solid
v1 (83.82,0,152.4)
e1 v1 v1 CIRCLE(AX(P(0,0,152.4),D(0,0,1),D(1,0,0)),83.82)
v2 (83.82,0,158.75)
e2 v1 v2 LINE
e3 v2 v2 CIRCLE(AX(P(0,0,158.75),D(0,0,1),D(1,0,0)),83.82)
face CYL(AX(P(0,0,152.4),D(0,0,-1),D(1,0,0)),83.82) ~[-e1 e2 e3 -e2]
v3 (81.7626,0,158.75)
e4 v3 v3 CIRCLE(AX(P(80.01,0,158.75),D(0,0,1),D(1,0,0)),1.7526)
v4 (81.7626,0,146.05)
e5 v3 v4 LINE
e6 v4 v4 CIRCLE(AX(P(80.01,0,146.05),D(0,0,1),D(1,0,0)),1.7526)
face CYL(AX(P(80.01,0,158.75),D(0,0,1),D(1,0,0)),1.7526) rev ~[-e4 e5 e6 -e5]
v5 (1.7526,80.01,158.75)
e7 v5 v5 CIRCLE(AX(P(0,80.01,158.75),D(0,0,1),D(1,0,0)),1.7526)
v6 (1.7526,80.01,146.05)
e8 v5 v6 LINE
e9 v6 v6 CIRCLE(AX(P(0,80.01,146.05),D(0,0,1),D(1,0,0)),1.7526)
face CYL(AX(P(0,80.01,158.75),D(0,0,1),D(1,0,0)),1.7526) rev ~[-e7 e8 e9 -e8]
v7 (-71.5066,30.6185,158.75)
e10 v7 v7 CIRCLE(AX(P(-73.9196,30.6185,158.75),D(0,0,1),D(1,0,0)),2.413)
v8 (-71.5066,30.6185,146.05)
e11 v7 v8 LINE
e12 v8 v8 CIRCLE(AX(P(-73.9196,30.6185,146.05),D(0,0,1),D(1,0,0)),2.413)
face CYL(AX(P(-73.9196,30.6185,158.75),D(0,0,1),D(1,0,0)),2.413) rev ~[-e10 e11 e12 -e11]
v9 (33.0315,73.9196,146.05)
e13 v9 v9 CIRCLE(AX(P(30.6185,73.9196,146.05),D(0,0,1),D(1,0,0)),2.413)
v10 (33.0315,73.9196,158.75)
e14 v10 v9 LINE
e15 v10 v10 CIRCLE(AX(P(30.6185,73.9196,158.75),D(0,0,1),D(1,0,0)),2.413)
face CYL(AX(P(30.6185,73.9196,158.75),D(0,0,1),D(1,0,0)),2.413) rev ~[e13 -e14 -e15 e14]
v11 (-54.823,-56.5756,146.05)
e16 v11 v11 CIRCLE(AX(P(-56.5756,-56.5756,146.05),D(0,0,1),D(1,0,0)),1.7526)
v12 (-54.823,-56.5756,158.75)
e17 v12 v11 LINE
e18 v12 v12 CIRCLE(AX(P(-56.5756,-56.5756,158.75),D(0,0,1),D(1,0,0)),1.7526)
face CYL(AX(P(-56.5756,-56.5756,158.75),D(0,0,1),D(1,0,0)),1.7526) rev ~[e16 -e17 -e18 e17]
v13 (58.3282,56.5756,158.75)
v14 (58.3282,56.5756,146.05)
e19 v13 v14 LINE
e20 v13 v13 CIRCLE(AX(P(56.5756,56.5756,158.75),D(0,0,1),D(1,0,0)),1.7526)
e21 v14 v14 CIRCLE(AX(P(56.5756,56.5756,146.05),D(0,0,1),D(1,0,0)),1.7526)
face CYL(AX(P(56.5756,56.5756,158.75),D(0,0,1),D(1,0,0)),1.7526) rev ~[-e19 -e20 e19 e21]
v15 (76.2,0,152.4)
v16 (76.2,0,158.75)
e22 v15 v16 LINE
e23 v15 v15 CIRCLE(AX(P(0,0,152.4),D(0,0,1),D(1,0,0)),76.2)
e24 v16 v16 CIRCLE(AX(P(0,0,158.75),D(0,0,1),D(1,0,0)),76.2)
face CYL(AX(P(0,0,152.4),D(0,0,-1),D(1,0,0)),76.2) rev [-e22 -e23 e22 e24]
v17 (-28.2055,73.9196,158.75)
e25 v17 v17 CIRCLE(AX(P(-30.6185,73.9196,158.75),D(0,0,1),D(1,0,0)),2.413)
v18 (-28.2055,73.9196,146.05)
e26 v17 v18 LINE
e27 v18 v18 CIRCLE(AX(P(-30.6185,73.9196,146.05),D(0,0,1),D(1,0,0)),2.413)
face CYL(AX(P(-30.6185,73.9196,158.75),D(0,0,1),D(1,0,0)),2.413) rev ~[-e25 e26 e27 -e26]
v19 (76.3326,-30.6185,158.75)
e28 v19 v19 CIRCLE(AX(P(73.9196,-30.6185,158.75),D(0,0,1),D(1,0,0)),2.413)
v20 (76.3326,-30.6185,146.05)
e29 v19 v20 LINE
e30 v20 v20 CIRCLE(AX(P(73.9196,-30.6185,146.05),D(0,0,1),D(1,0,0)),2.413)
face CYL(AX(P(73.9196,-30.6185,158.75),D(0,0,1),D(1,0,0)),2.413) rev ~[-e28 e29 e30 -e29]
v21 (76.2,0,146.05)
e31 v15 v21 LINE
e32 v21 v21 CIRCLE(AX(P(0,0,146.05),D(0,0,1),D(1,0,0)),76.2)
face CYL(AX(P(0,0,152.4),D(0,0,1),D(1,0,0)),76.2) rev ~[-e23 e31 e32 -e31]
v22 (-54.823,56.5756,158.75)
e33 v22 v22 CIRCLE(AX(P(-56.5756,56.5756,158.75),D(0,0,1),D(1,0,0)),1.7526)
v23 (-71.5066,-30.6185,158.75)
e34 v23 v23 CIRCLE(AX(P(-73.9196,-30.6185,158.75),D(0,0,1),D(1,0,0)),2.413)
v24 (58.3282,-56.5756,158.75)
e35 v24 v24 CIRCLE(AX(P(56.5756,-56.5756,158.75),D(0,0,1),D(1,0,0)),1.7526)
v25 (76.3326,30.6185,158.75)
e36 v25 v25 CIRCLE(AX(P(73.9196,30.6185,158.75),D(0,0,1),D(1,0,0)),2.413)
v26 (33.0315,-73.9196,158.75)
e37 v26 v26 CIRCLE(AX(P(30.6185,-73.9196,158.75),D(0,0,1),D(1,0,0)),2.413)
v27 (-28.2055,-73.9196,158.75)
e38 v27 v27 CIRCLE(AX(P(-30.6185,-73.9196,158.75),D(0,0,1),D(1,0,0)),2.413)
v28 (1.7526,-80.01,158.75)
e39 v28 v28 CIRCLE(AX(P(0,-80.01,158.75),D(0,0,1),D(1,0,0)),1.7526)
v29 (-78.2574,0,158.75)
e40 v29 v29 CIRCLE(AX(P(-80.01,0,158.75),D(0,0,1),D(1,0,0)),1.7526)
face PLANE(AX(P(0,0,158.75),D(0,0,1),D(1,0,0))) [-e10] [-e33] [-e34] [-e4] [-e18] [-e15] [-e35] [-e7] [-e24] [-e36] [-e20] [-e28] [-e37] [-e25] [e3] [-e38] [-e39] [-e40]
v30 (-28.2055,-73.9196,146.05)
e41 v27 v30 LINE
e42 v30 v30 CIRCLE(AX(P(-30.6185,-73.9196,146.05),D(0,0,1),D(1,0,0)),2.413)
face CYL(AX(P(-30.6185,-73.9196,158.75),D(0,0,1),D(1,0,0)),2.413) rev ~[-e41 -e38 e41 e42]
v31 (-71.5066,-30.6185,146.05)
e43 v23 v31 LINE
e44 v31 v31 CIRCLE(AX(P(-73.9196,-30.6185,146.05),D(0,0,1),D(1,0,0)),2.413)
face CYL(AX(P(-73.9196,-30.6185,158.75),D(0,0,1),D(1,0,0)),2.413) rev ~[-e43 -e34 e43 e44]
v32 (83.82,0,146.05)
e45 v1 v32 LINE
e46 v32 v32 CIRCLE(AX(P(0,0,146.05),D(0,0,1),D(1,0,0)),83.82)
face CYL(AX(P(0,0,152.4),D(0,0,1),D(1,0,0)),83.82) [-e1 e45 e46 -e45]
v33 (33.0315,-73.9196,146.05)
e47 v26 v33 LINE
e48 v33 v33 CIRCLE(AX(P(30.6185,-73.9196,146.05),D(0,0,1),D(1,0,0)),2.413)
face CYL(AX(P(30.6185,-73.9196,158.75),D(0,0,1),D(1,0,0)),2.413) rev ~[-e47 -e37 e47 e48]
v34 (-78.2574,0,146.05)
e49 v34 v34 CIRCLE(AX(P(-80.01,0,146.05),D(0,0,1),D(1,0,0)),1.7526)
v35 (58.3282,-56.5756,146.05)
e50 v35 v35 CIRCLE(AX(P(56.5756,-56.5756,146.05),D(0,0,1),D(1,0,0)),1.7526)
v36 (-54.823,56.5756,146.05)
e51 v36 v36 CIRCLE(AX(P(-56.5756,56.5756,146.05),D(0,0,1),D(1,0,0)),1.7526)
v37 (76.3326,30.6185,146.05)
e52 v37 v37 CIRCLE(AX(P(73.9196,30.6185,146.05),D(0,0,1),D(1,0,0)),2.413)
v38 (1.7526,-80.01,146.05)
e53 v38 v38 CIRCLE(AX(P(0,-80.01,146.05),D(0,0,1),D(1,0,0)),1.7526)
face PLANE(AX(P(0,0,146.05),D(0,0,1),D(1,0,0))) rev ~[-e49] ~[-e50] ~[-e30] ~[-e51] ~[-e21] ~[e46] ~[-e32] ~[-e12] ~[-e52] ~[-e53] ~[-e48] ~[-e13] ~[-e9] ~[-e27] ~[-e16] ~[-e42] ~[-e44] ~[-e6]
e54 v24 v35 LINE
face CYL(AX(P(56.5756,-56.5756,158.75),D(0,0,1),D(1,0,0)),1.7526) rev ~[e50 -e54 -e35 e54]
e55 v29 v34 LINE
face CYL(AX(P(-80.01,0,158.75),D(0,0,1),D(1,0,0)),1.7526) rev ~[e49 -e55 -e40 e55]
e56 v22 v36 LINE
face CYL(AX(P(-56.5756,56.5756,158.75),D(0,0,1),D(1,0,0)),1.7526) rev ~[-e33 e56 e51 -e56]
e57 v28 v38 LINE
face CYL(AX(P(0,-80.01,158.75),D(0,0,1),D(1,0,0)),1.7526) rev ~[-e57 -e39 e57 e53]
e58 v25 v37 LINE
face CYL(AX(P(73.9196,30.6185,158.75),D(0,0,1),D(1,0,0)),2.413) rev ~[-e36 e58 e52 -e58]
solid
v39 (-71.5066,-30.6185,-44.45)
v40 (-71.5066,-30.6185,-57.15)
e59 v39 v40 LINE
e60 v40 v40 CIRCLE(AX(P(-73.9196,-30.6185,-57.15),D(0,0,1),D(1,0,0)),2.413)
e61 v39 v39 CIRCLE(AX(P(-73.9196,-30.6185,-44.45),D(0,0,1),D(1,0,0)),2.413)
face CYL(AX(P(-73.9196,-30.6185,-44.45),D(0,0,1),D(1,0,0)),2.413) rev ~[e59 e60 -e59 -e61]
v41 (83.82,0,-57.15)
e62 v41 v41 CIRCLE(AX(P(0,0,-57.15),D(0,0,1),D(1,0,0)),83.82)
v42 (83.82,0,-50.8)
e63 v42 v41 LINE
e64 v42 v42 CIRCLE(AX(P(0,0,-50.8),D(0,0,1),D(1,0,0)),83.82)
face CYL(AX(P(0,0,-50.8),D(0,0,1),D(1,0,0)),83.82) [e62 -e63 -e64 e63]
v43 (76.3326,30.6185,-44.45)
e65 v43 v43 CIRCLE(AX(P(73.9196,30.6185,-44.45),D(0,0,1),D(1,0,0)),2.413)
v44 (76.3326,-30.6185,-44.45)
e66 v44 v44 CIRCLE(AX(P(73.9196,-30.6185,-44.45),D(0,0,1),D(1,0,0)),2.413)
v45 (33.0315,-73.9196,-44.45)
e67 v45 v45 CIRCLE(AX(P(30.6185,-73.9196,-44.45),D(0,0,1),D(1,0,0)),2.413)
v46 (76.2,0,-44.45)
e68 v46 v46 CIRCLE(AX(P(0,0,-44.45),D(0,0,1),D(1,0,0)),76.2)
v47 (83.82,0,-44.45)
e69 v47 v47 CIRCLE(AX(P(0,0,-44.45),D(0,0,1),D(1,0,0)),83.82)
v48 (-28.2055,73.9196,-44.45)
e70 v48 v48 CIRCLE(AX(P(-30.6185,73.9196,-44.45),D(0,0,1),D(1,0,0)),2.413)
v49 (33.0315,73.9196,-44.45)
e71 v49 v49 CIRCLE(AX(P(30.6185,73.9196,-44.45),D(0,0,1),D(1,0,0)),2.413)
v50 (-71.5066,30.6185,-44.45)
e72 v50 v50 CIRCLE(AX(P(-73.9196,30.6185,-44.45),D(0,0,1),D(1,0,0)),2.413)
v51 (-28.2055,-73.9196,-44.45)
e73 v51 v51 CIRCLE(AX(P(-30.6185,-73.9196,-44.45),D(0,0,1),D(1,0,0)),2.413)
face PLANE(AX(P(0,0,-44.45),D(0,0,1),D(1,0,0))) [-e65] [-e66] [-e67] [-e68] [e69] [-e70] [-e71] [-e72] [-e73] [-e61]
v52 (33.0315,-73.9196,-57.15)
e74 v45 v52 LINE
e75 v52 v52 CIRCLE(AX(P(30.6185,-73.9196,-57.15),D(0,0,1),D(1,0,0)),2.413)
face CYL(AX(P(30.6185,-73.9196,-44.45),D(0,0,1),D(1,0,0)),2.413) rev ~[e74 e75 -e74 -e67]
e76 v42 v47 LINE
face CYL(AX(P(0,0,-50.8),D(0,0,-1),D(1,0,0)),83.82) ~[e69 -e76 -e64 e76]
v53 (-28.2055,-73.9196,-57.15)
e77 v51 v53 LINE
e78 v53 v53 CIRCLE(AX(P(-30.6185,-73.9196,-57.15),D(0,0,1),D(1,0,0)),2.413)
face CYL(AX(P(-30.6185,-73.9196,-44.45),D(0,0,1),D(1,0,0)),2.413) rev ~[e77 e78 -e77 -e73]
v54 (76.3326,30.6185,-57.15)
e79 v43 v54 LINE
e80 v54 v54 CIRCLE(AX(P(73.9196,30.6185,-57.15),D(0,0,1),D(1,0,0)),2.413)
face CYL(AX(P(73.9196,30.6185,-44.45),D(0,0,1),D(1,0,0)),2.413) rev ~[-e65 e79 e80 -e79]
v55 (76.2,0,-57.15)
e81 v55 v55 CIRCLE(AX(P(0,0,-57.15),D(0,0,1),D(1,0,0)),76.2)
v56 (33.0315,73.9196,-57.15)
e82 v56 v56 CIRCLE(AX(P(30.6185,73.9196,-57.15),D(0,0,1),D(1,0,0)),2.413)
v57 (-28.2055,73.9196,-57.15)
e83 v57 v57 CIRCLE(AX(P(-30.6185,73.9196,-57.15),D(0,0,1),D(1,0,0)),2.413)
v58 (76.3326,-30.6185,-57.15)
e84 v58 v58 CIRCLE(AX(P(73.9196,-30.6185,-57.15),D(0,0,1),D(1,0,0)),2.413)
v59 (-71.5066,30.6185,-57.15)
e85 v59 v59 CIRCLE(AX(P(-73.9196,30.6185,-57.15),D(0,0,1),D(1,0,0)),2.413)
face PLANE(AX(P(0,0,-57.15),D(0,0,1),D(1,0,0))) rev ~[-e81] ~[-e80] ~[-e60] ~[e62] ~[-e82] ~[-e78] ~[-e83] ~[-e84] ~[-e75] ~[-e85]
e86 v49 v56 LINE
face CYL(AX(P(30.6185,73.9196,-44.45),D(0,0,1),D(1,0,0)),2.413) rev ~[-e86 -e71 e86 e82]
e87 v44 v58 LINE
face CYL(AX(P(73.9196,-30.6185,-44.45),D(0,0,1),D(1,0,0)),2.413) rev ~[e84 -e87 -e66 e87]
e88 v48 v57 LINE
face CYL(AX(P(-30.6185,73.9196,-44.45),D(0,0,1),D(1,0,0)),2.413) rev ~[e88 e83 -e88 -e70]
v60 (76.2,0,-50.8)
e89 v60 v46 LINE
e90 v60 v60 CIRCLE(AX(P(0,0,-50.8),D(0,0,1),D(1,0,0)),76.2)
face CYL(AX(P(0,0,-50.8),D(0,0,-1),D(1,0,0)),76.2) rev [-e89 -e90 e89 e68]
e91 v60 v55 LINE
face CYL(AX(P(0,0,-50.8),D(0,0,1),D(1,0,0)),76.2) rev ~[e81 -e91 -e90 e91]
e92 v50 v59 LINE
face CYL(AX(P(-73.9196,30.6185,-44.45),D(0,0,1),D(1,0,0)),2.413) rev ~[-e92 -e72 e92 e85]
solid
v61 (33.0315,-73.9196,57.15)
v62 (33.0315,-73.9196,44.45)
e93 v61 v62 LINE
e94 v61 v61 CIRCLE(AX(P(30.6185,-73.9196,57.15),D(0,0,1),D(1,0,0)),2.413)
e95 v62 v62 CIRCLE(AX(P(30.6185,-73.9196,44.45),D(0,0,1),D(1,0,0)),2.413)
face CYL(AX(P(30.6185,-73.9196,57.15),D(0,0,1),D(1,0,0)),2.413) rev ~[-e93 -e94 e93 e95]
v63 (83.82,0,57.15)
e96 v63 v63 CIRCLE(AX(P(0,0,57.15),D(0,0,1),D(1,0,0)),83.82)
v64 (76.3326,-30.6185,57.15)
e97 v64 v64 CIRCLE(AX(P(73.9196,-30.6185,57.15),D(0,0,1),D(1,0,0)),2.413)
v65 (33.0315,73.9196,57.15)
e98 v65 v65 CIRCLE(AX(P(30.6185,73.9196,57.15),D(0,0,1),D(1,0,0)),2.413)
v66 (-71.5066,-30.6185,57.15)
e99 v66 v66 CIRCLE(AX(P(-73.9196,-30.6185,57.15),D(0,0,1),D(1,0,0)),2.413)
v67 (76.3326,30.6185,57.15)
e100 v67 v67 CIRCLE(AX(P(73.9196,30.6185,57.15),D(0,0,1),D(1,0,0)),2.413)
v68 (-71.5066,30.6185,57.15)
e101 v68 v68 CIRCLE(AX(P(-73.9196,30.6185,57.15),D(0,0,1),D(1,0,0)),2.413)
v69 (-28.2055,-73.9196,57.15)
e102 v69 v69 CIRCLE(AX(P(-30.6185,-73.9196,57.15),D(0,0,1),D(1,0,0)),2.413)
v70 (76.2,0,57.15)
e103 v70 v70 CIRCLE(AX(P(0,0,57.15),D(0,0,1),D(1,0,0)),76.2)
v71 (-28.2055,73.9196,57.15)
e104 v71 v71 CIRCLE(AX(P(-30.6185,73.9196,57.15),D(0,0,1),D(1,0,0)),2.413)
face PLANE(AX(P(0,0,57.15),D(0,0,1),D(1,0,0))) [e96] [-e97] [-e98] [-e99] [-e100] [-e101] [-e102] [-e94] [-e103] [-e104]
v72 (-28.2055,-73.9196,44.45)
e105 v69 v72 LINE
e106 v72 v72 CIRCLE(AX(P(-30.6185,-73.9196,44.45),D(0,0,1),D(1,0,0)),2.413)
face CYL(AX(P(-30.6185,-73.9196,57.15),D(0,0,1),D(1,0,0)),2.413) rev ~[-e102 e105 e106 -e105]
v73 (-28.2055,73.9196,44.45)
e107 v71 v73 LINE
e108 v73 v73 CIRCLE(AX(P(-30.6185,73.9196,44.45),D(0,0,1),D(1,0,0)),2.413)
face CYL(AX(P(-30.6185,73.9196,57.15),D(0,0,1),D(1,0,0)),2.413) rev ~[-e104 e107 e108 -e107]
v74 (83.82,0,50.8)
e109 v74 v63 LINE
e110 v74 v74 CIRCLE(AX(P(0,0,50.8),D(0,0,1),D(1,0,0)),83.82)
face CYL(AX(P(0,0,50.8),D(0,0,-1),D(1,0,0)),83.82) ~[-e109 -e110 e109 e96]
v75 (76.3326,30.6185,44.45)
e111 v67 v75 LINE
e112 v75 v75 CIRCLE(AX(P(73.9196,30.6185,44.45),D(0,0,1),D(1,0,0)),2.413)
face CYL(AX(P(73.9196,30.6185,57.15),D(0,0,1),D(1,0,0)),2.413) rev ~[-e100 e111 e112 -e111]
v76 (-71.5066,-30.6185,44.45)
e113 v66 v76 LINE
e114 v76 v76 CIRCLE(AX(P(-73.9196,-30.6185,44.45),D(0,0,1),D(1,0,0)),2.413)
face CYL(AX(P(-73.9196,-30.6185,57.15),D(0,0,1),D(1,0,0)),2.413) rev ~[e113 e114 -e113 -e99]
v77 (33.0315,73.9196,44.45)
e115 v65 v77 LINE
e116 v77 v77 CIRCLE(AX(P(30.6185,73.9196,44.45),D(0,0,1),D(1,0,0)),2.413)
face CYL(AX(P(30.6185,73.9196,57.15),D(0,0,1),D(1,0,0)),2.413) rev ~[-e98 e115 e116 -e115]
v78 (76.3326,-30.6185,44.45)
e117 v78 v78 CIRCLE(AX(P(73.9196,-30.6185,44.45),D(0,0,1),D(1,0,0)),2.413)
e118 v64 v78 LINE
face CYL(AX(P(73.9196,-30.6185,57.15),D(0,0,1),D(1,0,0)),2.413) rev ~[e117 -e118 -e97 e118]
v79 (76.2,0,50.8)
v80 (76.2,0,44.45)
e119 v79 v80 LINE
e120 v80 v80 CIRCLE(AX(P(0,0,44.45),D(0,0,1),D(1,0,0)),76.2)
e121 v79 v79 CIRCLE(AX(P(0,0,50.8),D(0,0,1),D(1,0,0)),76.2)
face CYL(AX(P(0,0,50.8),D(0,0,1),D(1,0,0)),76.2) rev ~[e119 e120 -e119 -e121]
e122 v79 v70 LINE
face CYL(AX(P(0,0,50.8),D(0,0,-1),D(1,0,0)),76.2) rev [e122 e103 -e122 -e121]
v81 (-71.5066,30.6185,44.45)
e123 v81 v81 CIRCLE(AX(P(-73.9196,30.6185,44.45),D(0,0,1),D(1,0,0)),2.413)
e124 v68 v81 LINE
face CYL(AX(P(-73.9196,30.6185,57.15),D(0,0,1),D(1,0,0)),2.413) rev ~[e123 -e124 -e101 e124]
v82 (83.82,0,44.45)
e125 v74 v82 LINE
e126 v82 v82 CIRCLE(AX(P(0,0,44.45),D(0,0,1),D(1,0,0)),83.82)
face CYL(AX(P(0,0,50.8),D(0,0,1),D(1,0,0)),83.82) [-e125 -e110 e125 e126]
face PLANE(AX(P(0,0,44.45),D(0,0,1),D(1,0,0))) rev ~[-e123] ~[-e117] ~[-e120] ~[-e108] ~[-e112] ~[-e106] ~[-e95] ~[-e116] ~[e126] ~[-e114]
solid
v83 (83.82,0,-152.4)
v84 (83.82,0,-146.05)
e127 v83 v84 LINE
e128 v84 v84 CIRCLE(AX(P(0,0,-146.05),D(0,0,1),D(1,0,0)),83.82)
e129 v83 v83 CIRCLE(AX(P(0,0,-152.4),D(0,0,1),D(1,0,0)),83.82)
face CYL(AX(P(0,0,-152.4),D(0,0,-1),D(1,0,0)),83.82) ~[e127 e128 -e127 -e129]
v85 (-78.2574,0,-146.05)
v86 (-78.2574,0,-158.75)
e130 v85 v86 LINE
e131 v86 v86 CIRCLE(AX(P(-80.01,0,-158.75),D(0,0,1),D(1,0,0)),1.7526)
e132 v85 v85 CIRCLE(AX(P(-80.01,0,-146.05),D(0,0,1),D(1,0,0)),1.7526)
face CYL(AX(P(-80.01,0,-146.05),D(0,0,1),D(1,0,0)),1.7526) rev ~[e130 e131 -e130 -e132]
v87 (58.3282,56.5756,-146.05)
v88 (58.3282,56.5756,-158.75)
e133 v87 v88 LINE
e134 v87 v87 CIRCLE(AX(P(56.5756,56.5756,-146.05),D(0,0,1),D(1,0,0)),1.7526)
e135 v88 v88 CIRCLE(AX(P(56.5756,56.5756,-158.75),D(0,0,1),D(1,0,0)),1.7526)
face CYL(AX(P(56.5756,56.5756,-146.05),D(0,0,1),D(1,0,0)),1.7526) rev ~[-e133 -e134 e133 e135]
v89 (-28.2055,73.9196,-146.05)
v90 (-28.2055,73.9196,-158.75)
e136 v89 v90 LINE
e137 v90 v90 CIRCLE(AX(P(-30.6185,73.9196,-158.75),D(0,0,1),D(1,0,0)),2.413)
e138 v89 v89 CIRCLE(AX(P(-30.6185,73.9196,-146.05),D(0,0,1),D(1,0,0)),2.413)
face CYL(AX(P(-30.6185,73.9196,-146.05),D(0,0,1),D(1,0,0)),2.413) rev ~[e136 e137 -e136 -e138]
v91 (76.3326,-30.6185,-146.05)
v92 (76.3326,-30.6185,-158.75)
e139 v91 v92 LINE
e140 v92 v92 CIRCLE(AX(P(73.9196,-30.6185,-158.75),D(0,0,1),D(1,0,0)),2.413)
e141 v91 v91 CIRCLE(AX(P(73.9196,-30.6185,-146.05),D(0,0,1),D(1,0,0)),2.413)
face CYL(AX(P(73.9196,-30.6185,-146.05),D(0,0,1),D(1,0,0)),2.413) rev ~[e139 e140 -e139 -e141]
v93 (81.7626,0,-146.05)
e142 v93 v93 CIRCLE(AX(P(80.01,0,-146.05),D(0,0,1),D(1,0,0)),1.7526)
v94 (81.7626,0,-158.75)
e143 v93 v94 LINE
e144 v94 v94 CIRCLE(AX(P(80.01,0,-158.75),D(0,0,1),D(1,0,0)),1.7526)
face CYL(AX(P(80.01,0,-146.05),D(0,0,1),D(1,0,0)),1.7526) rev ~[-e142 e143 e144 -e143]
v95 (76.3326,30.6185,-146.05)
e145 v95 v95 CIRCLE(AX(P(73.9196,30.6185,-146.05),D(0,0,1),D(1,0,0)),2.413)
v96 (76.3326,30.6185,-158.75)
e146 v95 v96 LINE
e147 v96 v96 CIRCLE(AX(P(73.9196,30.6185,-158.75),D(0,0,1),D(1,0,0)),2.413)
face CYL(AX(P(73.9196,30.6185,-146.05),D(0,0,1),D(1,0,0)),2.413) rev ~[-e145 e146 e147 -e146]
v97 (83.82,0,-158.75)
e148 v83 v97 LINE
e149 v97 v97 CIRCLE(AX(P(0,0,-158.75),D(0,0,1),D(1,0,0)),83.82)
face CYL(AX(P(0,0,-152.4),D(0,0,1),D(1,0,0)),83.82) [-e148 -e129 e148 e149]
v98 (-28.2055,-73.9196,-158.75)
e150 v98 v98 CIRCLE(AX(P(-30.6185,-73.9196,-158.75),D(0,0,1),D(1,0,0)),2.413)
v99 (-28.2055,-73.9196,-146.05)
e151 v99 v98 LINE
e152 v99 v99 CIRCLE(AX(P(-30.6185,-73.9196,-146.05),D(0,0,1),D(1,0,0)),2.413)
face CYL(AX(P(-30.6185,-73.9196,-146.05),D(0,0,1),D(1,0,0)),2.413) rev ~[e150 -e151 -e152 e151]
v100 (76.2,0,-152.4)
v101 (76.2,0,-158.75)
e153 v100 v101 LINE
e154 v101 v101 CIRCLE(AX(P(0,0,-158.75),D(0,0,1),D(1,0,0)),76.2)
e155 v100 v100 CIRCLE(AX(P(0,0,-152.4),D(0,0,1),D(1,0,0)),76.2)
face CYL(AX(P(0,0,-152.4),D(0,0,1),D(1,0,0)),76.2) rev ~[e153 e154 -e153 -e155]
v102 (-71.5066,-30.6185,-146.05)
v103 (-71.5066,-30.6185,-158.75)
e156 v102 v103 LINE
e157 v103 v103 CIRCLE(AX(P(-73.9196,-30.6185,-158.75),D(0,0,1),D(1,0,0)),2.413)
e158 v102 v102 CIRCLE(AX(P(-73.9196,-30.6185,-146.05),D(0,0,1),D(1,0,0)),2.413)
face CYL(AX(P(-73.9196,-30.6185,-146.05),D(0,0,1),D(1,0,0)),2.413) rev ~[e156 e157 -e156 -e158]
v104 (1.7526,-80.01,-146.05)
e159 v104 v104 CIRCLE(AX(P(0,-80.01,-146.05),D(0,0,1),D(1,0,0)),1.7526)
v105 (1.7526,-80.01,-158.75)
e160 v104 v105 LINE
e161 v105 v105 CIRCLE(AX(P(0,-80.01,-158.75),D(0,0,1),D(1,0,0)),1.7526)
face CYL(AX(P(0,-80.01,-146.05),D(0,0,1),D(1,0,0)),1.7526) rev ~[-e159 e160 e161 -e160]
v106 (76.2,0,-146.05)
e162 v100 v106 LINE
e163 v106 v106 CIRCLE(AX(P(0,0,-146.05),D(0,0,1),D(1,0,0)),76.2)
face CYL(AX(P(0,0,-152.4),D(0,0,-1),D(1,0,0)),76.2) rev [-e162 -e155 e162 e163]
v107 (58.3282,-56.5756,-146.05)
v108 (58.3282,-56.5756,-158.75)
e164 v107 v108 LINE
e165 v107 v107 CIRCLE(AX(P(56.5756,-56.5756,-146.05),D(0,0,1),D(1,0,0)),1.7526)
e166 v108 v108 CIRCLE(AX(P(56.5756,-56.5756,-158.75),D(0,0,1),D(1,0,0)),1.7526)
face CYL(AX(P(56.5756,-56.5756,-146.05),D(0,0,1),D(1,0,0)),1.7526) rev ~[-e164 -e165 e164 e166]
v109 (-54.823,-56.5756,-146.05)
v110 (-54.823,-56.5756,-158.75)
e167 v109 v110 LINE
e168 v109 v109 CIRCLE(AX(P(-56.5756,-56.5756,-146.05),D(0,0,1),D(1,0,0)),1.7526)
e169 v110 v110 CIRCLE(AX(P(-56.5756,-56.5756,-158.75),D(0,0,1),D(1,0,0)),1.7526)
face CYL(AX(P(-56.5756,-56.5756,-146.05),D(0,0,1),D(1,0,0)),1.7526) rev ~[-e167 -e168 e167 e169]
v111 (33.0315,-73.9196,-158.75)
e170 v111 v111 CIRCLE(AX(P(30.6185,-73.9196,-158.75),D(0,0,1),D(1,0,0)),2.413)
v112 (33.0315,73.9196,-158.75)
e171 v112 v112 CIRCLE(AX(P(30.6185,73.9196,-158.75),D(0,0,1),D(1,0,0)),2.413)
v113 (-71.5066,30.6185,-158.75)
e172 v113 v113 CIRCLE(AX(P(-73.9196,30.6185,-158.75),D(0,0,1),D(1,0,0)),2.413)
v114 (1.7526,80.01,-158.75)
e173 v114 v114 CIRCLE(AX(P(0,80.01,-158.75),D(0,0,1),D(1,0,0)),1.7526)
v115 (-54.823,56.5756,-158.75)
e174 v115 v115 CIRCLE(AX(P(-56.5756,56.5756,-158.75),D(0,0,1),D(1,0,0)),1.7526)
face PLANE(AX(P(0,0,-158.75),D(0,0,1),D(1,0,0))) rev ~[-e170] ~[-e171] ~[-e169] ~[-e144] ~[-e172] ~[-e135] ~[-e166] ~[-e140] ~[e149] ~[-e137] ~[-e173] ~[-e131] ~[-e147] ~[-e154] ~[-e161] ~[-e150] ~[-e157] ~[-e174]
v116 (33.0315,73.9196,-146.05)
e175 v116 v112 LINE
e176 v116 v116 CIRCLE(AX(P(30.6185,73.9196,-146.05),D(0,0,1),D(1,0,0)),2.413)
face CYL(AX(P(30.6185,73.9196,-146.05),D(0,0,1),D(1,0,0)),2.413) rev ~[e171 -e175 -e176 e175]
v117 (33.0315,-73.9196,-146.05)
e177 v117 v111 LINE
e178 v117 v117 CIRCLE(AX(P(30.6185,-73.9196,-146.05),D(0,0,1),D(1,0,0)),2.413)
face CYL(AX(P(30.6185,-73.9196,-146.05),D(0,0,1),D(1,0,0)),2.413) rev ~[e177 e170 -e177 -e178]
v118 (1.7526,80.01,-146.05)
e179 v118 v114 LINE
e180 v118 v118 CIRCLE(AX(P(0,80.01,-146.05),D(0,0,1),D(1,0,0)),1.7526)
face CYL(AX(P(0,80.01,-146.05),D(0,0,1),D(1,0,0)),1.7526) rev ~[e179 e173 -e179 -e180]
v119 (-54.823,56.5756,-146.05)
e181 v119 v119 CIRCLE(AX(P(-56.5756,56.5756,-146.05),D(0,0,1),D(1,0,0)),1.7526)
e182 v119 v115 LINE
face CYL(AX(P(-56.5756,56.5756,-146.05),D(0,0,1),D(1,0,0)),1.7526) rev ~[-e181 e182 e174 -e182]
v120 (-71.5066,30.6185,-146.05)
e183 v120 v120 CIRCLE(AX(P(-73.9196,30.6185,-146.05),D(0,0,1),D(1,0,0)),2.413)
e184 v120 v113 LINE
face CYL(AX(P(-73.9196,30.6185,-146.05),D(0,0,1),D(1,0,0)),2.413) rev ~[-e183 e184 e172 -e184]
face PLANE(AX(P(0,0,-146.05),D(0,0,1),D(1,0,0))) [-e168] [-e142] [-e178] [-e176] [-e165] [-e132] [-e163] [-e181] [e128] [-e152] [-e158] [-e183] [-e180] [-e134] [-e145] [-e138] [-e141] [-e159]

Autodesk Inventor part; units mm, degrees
ref_plane "YZ Plane" through (0, 0, 0) normal (1, 0, 0) x (0, 1, 0)
ref_plane "XZ Plane" through (0, 0, 0) normal (0, 1, 0) x (-1, 0, 0)
ref_plane "Work Plane1" through (0, 0, 50.8) normal (0, 0, 1) x (1, 0, 0)
sketch "Sketch1" plane through (0, 0, 50.8) normal (0, 0, 1) x (1, 0, 0)
  circle A0 centre (0, 0) radius 76.2
  circle A1 centre (0, 0) radius 83.82
  dimension "d1" = 152.4
  dimension "d2" = 7.62
extrude "Extrusion1" add sketch "Sketch1" along normal mid plane 12.7
pattern_linear "Rectangular Pattern1" count 3 spacing 101.6 along (0, 0, -1) count 2 spacing 101.6 along (0, 0, 1) of "Extrusion1"
sketch "Sketch2" plane through (0, 0, 158.75) normal (0, 0, 1) x (1, 0, 0)
  circle A0 centre (30.6185, 73.9196) radius 2.413
  circle A1 centre (-30.6185, 73.9196) radius 2.413
  circle A2 centre (-73.9196, 30.6185) radius 2.413
  circle A3 centre (-73.9196, -30.6185) radius 2.413
  circle A4 centre (-30.6185, -73.9196) radius 2.413
  circle A5 centre (30.6185, -73.9196) radius 2.413
  circle A6 centre (73.9196, -30.6185) radius 2.413
  circle A7 centre (73.9196, 30.6185) radius 2.413
  point P0 (0, 0)
  dimension "d16" = 4.826
  dimension "d19" = 360
extrude "Extrusion2" cut sketch "Sketch2" against normal up to surface (12.7 mm away)
pattern_linear "Rectangular Pattern2" count 4 spacing 101.6 along (0, 0, -1) of "Extrusion2"
sketch "Sketch3" plane through (0, 0, 158.75) normal (0, 0, 1) x (1, 0, 0)
  circle A0 centre (0, 80.01) radius 1.7526
  circle A1 centre (-56.5756, 56.5756) radius 1.7526
  circle A2 centre (-80.01, 0) radius 1.7526
  circle A3 centre (-56.5756, -56.5756) radius 1.7526
  circle A4 centre (0, -80.01) radius 1.7526
  circle A5 centre (56.5756, -56.5756) radius 1.7526
  circle A6 centre (80.01, 0) radius 1.7526
  circle A7 centre (56.5756, 56.5756) radius 1.7526
  point P0 (0, 0)
  dimension "d26" = 3.5052
  dimension "d29" = 360
extrude "Extrusion3" cut sketch "Sketch3" against normal up to surface (12.7 mm away)
pattern_linear "Rectangular Pattern4" count 2 spacing 304.8 along (0, 0, -1) of "Extrusion3"
thread "Thread1" size "6-32 UNC" class "2B" standard "ANSI Unified Screw Threads" full length
thread "Thread2" size "6-32 UNC" class "2B" standard "ANSI Unified Screw Threads" full length
thread "Thread3" size "6-32 UNC" class "2B" standard "ANSI Unified Screw Threads" full length
thread "Thread4" size "6-32 UNC" class "2B" standard "ANSI Unified Screw Threads" full length
thread "Thread5" size "6-32 UNC" class "2B" standard "ANSI Unified Screw Threads" full length
thread "Thread6" size "6-32 UNC" class "2B" standard "ANSI Unified Screw Threads" full length
thread "Thread7" size "6-32 UNC" class "2B" standard "ANSI Unified Screw Threads" full length
thread "Thread8" size "6-32 UNC" class "2B" standard "ANSI Unified Screw Threads" full length
thread "Thread9" size "6-32 UNC" class "2B" standard "ANSI Unified Screw Threads" full length
thread "Thread10" size "6-32 UNC" class "2B" standard "ANSI Unified Screw Threads" full length
thread "Thread11" size "6-32 UNC" class "2B" standard "ANSI Unified Screw Threads" full length
thread "Thread12" size "6-32 UNC" class "2B" standard "ANSI Unified Screw Threads" full length
thread "Thread13" size "6-32 UNC" class "2B" standard "ANSI Unified Screw Threads" full length
thread "Thread14" size "6-32 UNC" class "2B" standard "ANSI Unified Screw Threads" full length
thread "Thread15" size "6-32 UNC" class "2B" standard "ANSI Unified Screw Threads" full length
thread "Thread16" size "6-32 UNC" class "2B" standard "ANSI Unified Screw Threads" full length
thread "Thread17" size "6-32 UNC" class "2B" standard "ANSI Unified Screw Threads" full length
